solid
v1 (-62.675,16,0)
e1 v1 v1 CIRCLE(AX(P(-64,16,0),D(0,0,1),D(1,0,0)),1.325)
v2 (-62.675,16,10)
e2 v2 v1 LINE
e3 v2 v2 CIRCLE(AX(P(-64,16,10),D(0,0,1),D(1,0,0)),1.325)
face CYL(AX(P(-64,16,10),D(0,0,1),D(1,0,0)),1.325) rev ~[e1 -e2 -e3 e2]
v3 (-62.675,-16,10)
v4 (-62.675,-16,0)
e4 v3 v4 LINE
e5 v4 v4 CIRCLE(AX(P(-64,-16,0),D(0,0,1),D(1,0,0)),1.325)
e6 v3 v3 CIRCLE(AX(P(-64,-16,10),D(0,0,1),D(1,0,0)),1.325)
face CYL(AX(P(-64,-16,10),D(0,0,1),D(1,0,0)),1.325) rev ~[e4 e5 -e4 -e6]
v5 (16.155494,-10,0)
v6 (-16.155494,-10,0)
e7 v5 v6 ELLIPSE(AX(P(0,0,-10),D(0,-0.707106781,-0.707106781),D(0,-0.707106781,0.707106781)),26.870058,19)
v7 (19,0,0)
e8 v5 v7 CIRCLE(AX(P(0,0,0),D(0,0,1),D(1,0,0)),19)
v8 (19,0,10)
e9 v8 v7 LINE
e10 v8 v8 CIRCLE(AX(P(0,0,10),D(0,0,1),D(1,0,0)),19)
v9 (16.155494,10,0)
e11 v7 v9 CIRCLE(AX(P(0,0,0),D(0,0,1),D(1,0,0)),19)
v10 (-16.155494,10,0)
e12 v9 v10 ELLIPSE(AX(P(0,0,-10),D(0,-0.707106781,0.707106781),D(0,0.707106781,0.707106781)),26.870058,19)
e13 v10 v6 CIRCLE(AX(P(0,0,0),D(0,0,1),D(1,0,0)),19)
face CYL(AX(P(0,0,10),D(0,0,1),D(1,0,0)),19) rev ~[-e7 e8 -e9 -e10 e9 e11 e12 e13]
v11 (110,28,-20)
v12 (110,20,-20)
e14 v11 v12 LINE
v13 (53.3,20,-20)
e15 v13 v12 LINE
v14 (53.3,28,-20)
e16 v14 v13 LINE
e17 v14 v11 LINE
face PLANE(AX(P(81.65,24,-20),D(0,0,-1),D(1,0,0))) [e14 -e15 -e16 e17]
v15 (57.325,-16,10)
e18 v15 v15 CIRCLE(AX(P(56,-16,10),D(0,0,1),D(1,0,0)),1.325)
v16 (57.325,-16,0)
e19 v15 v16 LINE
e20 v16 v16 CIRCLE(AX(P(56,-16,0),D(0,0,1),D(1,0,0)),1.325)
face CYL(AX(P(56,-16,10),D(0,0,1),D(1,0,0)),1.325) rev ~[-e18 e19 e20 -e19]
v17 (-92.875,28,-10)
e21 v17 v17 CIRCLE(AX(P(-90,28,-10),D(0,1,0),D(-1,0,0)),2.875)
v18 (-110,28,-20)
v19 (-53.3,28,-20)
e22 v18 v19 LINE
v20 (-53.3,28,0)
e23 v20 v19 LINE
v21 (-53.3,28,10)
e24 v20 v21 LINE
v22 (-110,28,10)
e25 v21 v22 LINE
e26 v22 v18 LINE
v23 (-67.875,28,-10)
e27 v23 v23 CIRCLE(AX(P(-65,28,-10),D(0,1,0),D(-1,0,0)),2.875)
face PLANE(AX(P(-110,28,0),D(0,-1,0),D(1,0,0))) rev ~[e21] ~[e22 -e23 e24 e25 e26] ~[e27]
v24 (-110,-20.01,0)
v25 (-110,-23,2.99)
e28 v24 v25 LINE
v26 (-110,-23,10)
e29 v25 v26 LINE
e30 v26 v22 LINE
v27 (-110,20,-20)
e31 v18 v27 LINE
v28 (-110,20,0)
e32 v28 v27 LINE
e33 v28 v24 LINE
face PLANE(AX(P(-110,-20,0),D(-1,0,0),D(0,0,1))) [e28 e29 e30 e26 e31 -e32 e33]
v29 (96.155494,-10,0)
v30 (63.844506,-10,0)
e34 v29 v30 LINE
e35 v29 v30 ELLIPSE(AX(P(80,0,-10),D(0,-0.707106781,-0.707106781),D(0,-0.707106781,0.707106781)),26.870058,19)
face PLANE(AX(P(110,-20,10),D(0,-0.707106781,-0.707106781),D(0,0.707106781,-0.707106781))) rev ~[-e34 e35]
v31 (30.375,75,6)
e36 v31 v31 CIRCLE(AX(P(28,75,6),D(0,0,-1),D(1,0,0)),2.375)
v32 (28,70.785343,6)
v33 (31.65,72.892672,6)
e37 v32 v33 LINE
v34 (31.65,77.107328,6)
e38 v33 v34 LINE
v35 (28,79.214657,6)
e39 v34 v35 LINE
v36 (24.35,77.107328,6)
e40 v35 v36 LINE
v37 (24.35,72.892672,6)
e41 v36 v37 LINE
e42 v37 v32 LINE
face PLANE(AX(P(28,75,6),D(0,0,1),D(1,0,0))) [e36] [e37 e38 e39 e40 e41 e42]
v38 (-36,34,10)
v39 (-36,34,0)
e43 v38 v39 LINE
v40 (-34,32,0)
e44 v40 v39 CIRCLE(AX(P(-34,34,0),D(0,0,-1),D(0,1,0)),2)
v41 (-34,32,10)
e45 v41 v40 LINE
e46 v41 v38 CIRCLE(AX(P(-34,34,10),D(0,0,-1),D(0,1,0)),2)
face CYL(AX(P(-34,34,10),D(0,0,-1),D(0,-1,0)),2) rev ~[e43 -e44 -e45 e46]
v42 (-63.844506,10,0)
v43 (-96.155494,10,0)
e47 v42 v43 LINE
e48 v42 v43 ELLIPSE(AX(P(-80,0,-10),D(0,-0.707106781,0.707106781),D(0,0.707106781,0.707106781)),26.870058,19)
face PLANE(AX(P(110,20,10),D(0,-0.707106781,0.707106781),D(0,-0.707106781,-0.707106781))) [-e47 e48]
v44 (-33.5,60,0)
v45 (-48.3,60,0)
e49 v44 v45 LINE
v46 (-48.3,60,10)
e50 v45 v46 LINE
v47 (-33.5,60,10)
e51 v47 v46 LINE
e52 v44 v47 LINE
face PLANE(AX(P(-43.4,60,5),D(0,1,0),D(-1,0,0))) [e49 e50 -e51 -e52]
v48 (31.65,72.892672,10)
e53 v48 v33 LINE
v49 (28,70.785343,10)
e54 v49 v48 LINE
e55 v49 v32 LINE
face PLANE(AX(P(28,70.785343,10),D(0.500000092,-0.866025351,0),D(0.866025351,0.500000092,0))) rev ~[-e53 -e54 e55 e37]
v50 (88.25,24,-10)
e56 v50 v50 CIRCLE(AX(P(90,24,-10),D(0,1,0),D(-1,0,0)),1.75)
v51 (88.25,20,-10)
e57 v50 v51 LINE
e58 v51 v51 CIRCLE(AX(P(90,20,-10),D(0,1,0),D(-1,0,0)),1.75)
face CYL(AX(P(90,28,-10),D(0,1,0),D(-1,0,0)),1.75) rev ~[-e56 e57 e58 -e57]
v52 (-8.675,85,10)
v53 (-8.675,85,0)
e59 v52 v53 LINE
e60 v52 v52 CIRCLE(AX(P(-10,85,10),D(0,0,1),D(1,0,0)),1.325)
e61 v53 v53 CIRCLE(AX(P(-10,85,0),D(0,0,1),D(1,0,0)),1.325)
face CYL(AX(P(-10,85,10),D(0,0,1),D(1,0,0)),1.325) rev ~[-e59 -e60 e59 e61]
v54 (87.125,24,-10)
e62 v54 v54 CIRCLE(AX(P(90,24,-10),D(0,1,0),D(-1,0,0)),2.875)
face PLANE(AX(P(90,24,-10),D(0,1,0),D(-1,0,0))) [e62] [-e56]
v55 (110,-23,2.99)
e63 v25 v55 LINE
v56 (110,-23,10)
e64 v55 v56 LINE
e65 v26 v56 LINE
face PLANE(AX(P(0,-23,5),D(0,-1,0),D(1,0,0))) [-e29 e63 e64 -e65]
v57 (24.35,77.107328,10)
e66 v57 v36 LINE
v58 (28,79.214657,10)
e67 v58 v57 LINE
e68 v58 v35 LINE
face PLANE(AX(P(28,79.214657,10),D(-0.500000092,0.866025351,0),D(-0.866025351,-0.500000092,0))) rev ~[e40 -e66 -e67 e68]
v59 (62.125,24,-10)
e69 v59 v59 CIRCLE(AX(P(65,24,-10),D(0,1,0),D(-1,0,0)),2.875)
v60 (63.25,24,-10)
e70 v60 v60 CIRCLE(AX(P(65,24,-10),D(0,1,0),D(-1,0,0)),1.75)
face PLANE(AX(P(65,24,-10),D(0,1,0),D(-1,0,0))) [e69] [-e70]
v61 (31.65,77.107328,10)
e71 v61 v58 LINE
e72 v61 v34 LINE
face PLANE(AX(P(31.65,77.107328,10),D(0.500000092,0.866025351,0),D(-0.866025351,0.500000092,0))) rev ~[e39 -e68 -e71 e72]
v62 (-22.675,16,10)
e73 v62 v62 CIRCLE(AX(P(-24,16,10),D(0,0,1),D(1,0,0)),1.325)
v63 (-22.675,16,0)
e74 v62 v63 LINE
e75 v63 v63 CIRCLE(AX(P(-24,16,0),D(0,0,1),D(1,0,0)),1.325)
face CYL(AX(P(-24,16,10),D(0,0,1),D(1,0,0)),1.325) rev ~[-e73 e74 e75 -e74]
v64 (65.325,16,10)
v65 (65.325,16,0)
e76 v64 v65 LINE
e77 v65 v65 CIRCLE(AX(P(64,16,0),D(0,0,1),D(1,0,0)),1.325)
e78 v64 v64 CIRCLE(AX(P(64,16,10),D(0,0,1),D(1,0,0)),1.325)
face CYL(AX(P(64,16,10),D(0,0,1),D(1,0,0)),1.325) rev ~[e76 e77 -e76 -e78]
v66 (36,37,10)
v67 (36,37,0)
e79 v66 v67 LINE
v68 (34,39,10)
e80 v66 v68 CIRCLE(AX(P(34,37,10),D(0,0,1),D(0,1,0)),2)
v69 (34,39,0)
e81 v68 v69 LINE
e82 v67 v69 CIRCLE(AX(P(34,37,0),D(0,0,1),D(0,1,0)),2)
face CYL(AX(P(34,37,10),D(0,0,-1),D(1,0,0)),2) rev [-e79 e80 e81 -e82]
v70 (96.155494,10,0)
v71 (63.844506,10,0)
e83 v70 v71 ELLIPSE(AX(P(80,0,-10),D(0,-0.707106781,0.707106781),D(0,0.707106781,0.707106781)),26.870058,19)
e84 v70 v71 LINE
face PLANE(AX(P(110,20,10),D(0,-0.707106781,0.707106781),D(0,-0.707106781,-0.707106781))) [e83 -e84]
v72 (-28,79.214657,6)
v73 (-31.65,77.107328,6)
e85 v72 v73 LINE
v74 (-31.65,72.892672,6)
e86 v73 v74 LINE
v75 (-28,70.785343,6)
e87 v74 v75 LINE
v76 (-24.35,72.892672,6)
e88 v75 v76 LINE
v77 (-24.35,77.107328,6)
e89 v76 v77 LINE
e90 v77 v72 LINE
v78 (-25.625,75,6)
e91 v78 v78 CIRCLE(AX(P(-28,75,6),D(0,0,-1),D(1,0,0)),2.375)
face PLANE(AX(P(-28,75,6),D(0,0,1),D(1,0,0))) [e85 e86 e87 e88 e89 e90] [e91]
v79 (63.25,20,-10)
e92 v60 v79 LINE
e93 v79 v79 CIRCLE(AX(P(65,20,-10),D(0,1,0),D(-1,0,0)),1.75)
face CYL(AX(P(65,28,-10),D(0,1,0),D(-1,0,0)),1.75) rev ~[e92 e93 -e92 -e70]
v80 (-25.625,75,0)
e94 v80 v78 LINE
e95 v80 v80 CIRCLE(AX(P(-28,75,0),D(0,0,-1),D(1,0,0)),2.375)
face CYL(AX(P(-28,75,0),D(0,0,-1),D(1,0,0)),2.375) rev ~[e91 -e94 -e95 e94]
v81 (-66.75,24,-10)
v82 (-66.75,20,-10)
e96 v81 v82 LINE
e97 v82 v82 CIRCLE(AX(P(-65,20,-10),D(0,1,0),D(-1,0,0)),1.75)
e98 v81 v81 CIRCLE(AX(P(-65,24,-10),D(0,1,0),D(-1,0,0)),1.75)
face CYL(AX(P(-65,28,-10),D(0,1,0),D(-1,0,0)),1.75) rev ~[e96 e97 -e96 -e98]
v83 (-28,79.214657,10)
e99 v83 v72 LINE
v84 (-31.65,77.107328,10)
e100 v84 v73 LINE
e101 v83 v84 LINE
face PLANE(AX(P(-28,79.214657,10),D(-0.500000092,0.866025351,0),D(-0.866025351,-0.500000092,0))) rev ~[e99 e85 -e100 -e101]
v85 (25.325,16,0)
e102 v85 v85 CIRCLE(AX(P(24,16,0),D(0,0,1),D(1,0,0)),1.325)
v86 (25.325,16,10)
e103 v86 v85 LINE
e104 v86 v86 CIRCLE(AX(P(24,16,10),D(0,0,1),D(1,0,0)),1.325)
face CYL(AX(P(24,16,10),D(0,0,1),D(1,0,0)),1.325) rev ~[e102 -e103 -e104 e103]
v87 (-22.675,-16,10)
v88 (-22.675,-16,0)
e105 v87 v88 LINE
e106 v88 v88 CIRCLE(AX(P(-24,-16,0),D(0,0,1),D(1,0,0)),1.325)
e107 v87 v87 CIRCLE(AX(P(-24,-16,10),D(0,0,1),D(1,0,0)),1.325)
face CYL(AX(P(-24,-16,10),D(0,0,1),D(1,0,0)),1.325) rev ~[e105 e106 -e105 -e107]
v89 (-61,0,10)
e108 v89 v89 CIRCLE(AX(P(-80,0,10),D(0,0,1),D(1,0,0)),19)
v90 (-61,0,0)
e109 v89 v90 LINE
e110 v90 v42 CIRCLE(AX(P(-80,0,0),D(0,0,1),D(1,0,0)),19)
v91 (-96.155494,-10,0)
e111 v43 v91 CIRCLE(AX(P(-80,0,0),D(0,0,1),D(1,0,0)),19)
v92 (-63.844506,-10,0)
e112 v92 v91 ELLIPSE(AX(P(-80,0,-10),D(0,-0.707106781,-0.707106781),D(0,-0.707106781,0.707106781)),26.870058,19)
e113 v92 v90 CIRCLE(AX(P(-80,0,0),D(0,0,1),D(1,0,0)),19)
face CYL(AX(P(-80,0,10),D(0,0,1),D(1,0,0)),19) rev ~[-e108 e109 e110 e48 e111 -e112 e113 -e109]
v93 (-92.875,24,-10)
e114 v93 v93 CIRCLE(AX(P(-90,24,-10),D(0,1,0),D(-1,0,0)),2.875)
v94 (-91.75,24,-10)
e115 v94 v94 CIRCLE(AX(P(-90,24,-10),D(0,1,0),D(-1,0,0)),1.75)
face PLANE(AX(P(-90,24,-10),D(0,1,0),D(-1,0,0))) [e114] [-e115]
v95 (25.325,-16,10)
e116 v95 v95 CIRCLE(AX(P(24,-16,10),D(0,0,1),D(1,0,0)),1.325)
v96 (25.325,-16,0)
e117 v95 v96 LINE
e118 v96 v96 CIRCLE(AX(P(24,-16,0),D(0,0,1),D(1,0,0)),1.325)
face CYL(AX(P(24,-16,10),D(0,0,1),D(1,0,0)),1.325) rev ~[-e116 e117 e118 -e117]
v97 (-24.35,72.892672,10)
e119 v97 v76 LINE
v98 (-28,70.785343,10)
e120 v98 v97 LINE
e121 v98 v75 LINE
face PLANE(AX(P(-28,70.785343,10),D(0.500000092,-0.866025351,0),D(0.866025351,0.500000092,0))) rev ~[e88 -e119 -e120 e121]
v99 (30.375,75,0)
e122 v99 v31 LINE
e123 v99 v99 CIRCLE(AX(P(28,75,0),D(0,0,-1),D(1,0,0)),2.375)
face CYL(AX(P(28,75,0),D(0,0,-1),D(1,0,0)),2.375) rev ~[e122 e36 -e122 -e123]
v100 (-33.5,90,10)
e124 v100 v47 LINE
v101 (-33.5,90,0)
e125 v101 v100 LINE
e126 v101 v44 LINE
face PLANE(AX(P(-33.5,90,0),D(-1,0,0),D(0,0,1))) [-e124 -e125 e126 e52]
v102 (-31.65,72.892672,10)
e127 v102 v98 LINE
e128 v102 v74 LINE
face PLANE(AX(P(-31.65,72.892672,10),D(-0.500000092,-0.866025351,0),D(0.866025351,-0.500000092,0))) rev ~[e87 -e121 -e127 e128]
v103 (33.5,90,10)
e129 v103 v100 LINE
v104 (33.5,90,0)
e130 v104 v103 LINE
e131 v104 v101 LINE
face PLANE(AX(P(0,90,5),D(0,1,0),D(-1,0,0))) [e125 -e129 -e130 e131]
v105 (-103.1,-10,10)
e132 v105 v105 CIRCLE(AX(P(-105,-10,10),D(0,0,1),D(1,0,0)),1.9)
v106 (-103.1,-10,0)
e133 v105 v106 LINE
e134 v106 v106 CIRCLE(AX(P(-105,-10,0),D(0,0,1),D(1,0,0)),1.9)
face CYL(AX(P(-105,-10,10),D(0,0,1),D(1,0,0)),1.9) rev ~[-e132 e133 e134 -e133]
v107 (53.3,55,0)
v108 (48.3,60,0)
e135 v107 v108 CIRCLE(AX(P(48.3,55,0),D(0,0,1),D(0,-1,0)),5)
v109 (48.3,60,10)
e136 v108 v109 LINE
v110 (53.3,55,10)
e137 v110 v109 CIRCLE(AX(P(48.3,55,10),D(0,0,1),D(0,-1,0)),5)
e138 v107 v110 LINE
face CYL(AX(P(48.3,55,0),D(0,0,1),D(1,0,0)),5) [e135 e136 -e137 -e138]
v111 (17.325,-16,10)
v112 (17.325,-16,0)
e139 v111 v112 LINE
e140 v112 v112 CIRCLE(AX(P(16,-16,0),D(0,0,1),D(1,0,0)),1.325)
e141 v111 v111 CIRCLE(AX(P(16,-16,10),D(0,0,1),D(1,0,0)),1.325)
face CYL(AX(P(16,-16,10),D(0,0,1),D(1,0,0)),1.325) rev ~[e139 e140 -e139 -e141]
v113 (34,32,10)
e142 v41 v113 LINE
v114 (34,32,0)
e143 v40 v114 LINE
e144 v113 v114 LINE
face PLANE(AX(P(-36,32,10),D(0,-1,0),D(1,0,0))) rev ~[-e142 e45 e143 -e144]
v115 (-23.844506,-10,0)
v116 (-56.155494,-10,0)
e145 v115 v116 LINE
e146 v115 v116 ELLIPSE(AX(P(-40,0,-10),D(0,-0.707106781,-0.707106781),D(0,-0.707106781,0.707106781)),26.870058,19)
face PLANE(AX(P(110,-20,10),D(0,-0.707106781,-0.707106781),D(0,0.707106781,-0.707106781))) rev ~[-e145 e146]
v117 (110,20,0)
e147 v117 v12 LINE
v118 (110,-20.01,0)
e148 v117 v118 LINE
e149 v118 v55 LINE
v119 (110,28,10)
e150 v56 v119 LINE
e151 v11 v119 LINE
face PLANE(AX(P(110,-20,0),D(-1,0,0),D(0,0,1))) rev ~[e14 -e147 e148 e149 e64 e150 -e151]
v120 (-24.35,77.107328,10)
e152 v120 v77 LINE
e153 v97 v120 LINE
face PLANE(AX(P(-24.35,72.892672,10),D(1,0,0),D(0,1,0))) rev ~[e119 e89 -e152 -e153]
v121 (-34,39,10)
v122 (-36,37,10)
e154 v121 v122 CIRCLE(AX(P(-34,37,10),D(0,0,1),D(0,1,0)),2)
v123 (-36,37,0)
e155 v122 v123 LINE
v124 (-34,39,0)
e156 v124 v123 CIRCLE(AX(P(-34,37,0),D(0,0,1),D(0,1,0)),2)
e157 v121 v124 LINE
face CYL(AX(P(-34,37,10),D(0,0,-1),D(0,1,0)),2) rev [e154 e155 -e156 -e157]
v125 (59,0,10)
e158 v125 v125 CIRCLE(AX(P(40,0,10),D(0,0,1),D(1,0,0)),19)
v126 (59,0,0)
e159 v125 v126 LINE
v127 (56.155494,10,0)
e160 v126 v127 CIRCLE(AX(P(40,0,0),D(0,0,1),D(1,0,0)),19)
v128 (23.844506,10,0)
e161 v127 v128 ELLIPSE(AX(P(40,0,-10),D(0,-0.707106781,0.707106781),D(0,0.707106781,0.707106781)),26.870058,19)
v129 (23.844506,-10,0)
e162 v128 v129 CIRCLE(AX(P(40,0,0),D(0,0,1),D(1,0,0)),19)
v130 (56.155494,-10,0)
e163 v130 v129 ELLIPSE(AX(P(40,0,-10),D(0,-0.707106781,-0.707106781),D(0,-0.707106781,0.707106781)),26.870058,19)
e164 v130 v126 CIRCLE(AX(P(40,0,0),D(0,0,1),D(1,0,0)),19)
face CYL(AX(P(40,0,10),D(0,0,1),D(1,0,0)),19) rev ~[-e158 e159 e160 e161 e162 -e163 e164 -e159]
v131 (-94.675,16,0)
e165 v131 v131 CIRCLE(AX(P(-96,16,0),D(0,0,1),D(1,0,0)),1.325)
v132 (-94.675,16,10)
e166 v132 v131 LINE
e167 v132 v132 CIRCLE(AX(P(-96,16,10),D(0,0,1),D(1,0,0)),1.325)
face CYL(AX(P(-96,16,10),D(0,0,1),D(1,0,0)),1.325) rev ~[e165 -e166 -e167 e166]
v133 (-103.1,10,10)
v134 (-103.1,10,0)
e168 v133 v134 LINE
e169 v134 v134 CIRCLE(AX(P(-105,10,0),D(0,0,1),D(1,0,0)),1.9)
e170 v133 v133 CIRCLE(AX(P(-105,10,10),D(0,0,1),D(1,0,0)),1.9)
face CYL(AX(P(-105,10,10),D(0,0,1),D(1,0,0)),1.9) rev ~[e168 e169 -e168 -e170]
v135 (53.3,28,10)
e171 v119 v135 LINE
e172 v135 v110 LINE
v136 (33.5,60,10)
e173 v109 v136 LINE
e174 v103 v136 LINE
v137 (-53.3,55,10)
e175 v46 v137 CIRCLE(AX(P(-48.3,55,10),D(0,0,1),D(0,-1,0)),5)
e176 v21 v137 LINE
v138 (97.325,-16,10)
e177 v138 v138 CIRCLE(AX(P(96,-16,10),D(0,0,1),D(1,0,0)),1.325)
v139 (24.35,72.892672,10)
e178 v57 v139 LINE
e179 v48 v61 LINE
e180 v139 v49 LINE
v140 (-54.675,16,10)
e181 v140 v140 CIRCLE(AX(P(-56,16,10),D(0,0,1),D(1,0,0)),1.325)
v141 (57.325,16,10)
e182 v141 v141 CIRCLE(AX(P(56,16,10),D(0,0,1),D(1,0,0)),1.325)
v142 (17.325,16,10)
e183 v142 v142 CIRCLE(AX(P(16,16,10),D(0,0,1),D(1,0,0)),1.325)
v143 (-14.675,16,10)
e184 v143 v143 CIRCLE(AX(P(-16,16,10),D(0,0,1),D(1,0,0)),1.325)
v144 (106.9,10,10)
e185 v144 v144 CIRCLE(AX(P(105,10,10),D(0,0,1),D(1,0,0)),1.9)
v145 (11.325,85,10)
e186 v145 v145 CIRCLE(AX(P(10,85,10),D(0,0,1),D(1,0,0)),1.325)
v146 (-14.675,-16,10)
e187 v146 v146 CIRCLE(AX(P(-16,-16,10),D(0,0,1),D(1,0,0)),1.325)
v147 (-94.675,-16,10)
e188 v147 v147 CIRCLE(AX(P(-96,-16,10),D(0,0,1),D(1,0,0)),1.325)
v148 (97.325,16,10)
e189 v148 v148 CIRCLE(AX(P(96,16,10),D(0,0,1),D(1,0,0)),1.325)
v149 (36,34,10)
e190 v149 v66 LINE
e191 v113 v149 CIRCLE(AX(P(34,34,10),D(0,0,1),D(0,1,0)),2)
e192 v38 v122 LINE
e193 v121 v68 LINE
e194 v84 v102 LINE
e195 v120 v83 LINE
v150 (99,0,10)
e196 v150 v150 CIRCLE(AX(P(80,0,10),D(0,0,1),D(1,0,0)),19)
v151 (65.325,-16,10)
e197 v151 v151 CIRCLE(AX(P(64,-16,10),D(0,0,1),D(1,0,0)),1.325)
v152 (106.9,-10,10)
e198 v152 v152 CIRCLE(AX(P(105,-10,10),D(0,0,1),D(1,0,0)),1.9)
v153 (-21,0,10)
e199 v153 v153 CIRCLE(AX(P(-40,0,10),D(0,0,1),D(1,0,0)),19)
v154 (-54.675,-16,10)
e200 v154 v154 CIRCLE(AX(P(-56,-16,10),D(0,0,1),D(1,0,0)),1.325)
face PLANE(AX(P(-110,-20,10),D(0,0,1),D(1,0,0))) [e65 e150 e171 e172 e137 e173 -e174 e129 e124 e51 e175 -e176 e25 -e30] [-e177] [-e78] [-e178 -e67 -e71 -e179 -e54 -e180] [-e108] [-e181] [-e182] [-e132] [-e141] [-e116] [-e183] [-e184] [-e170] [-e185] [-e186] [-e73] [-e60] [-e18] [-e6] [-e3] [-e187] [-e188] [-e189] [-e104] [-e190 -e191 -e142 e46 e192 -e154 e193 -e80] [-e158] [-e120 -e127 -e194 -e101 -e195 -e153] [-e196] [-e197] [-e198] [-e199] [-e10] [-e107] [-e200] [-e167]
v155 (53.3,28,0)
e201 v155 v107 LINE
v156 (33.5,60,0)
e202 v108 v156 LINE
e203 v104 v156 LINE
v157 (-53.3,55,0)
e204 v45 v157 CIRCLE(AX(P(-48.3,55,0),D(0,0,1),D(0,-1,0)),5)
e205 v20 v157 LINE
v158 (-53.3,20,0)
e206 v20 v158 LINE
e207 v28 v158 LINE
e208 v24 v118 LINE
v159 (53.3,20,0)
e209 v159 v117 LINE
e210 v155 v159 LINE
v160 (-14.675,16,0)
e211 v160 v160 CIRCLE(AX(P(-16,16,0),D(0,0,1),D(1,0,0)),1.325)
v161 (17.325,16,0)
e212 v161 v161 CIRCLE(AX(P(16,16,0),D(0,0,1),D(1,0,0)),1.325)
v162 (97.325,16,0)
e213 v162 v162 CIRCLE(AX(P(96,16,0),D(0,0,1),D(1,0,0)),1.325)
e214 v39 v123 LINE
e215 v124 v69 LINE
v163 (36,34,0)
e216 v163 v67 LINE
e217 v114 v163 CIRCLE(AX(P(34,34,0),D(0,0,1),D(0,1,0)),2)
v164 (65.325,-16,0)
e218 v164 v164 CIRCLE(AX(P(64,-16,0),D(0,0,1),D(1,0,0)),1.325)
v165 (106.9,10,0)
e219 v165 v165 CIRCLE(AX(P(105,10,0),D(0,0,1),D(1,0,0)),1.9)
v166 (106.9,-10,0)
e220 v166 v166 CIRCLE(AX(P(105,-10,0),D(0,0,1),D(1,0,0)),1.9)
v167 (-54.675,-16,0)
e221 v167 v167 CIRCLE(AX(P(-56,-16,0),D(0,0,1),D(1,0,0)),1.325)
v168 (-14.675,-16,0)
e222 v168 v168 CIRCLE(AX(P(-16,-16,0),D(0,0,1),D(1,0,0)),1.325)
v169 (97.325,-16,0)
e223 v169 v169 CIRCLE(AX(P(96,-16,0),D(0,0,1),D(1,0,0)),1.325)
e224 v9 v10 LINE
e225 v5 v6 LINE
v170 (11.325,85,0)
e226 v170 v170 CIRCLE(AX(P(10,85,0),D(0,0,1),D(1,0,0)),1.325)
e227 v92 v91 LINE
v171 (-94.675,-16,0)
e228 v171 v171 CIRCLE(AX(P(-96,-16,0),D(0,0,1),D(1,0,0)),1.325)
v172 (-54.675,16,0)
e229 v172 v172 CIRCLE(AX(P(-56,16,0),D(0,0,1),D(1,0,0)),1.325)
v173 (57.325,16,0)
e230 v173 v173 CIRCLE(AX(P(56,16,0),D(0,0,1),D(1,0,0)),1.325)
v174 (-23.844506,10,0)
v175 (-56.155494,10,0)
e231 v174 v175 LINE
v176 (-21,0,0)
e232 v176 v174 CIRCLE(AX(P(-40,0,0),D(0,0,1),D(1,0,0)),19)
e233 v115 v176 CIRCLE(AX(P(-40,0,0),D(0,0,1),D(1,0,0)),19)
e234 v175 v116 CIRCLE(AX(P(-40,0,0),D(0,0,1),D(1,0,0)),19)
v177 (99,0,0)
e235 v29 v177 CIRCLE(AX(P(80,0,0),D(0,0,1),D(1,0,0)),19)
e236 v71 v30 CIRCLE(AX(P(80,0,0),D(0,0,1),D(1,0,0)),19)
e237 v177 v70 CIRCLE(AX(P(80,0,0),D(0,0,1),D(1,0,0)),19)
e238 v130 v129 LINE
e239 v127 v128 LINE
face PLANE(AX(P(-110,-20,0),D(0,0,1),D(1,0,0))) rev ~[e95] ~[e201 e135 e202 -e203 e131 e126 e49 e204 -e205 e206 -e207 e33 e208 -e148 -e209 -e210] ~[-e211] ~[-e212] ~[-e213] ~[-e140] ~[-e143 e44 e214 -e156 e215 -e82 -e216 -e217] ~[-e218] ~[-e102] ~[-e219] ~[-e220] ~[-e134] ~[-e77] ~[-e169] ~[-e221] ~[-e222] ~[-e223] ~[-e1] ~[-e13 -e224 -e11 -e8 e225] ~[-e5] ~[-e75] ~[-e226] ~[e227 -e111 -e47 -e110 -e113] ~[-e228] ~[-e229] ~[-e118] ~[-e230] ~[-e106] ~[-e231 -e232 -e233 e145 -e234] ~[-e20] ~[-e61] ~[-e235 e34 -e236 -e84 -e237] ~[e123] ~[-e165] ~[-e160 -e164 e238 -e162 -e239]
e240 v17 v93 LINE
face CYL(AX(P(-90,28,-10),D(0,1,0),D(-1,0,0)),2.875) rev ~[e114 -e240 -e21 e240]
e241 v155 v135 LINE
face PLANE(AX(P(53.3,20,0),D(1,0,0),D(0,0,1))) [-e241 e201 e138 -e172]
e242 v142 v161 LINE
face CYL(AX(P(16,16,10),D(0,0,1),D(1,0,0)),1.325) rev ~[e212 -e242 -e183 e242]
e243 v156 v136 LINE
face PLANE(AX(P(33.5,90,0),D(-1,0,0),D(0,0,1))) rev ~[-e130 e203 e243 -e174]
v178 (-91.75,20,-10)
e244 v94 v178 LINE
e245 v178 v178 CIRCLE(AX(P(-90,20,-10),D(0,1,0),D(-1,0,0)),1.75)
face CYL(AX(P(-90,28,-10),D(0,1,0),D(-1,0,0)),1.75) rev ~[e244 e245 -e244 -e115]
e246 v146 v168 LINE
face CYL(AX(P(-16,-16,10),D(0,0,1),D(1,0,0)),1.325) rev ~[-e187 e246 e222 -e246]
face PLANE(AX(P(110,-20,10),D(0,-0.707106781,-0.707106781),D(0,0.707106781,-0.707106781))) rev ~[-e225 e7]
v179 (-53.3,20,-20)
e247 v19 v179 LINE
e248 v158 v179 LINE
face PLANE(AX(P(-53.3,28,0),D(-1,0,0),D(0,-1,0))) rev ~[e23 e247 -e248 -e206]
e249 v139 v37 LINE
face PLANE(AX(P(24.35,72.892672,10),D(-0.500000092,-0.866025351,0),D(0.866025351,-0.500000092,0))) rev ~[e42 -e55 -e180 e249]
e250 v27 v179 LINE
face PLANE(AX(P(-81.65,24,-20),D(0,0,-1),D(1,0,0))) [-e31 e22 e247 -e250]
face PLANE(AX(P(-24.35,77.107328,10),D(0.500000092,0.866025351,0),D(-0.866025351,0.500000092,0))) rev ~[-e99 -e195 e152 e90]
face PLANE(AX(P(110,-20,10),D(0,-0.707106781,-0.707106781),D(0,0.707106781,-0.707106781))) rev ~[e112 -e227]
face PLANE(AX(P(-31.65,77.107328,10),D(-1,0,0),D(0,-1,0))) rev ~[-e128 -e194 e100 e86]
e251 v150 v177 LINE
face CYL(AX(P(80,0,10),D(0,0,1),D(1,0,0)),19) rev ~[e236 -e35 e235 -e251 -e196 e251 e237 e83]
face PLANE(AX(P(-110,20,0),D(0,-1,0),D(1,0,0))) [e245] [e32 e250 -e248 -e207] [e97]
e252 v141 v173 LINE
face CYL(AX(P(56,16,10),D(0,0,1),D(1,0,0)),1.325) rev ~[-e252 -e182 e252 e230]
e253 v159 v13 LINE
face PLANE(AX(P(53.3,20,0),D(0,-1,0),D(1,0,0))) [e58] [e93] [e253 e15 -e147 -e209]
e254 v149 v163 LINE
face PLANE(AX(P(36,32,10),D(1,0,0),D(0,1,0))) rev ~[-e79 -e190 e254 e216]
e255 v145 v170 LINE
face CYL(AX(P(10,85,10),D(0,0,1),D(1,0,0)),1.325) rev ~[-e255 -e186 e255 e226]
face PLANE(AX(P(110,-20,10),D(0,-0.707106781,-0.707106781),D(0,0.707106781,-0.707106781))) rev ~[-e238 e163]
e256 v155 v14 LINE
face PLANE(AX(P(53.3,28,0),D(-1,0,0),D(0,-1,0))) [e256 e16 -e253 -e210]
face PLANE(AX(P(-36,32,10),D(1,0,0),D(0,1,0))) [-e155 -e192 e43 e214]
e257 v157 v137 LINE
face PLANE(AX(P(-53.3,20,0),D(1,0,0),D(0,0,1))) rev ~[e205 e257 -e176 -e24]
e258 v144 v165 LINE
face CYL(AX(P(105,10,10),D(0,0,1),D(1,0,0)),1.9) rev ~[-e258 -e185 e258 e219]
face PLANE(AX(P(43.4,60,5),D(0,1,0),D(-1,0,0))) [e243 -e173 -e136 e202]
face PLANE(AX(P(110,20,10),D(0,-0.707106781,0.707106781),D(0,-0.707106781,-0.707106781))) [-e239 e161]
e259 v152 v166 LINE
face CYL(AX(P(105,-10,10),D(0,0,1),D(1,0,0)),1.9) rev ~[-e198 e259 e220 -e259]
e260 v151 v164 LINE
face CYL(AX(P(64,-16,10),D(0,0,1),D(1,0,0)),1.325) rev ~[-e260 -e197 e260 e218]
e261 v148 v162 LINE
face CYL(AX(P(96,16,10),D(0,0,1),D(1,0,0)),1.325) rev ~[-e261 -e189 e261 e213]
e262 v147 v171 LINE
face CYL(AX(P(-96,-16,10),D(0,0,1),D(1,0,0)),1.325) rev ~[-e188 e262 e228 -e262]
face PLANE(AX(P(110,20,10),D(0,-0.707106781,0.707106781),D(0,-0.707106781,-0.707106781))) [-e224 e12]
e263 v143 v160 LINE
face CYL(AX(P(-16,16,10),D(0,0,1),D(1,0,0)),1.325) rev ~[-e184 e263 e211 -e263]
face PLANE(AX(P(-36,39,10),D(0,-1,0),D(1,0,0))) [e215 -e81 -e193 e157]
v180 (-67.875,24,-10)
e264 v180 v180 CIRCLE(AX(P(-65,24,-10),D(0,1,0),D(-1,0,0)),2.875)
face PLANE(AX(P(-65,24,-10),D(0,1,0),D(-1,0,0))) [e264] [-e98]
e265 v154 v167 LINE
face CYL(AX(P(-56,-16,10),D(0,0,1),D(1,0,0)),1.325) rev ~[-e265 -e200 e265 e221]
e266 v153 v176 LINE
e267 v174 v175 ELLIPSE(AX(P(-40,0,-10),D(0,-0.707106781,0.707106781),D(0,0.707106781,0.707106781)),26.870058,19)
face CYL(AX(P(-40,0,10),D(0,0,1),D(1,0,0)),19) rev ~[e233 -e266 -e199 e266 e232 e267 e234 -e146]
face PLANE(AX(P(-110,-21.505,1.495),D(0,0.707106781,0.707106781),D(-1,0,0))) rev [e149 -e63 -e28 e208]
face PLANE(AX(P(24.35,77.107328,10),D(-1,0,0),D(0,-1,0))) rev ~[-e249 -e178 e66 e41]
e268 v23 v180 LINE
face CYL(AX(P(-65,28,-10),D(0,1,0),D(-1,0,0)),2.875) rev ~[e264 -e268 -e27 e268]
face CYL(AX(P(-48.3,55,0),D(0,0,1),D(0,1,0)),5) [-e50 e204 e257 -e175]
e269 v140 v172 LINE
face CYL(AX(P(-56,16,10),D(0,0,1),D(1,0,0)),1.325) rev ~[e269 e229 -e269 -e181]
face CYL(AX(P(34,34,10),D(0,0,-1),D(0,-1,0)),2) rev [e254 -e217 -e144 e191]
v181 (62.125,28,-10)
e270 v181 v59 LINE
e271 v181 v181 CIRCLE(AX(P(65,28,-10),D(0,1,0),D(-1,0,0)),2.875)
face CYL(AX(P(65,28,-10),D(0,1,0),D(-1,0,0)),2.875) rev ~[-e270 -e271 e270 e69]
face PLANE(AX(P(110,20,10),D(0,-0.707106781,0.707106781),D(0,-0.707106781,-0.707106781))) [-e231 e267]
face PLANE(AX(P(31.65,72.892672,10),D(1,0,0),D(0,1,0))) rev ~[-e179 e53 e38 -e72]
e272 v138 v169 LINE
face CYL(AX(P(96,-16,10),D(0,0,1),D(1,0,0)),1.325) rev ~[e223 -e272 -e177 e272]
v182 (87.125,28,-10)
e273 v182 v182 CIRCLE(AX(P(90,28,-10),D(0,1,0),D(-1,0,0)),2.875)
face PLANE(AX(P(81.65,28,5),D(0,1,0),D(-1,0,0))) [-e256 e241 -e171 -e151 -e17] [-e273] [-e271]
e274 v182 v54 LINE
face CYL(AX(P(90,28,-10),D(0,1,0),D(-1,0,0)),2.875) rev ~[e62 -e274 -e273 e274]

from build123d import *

# Parameters (mm, degrees)
SKETCH_W        = 220
SKETCH_H        = 40
PAD_DEPTH       = 10
SKETCH001_R     = 19
POCKET_DEPTH    = 10
PAD001_DEPTH    = 220
PAD002_DEPTH    = 220
SKETCH004_R     = 1.325
POCKET001_DEPTH = 10
SKETCH005_R     = 1.9
POCKET002_DEPTH = 10
SKETCH006_W     = 106.6
SKETCH006_H     = 10
PAD003_DEPTH    = 70
SKETCH007_W     = 19.8
SKETCH007_H     = 10
POCKET003_DEPTH = 30
SKETCH008_W     = 56.7
SKETCH008_H     = 10
PAD004_DEPTH    = 8
SKETCH009_W     = 56.7
SKETCH009_H     = 8
PAD005_DEPTH    = 20
SKETCH010_R     = 2.375
POCKET004_DEPTH = 10
POCKET005_DEPTH = 4
FILLET_R        = 5
SKETCH012_R     = 1.75
POCKET006_DEPTH = 8
SKETCH013_R     = 2.875
POCKET007_DEPTH = 4
SKETCH014_R     = 1.325
POCKET008_DEPTH = 10
SKETCH015_W     = 72
SKETCH015_H     = 7
POCKET009_DEPTH = 10
FILLET001_R     = 2
SKETCH016_W     = 220
SKETCH016_H     = 10
PAD006_DEPTH    = 3
CHAMFER_SIZE    = 2.99


with BuildPart() as part:
    # Sketch → Pad (new body)
    with BuildSketch(Plane.XY):
        Rectangle(SKETCH_W, SKETCH_H)
    extrude(amount=PAD_DEPTH)

    # Sketch001 (on Face6 of Pad) → Pocket (cut)
    with BuildSketch(Plane.XY.offset(10)):
        with Locations((-80, 0)):
            Circle(SKETCH001_R)
        with Locations((-40, 0)):
            Circle(SKETCH001_R)
        Circle(SKETCH001_R)
        with Locations((40, 0)):
            Circle(SKETCH001_R)
        with Locations((80, 0)):
            Circle(SKETCH001_R)
    extrude(amount=-POCKET_DEPTH, mode=Mode.SUBTRACT)

    # Sketch002 (on Face3 of Pocket) → Pad001 (join)
    with BuildSketch(Plane.YZ.offset(110)):
        Polygon((-10, 0), (-20, 0), (-20, 10), align=None)
    extrude(amount=-PAD001_DEPTH)

    # Sketch003 (on Face3 of Pad001) → Pad002 (join)
    with BuildSketch(Plane.YZ.offset(110)):
        Polygon((20, 10), (10, 0), (20, 0), align=None)
    extrude(amount=-PAD002_DEPTH)

    # Sketch004 (on Face5 of Pad002) → Pocket001 (cut)
    with BuildSketch(Plane.XY.offset(10)):
        with Locations((-96, 16)):
            Circle(SKETCH004_R)
        with Locations((-96, -16)):
            Circle(SKETCH004_R)
        with Locations((-64, -16)):
            Circle(SKETCH004_R)
        with Locations((-64, 16)):
            Circle(SKETCH004_R)
        with Locations((-56, 16)):
            Circle(SKETCH004_R)
        with Locations((-56, -16)):
            Circle(SKETCH004_R)
        with Locations((-24, -16)):
            Circle(SKETCH004_R)
        with Locations((-24, 16)):
            Circle(SKETCH004_R)
        with Locations((-16, 16)):
            Circle(SKETCH004_R)
        with Locations((-16, -16)):
            Circle(SKETCH004_R)
        with Locations((16, -16)):
            Circle(SKETCH004_R)
        with Locations((16, 16)):
            Circle(SKETCH004_R)
        with Locations((24, 16)):
            Circle(SKETCH004_R)
        with Locations((24, -16)):
            Circle(SKETCH004_R)
        with Locations((56, -16)):
            Circle(SKETCH004_R)
        with Locations((56, 16)):
            Circle(SKETCH004_R)
        with Locations((64, 16)):
            Circle(SKETCH004_R)
        with Locations((64, -16)):
            Circle(SKETCH004_R)
        with Locations((96, -16)):
            Circle(SKETCH004_R)
        with Locations((96, 16)):
            Circle(SKETCH004_R)
    extrude(amount=-POCKET001_DEPTH, mode=Mode.SUBTRACT)

    # Sketch005 (on Face5 of Pocket001) → Pocket002 (cut)
    with BuildSketch(Plane.XY.offset(10)):
        with Locations((-105, 10)):
            Circle(SKETCH005_R)
        with Locations((-105, -10)):
            Circle(SKETCH005_R)
        with Locations((105, 10)):
            Circle(SKETCH005_R)
        with Locations((105, -10)):
            Circle(SKETCH005_R)
    extrude(amount=-POCKET002_DEPTH, mode=Mode.SUBTRACT)

    # Sketch006 (on Face1 of Pocket002) → Pad003 (join)
    with BuildSketch(Plane(origin=(0, 20, 0), x_dir=(-1, 0, 0), z_dir=(0, 1, 0))):
        with Locations((0, 5)):
            Rectangle(SKETCH006_W, SKETCH006_H)
    extrude(amount=PAD003_DEPTH)

    # Sketch007 → Pocket003 (cut)
    with BuildSketch(Plane(origin=(0, 90, 0), x_dir=(-1, 0, 0), z_dir=(0, 1, 0))):
        with Locations((-43.4, 5)):
            Rectangle(SKETCH007_W, SKETCH007_H)
        with Locations((43.4, 5)):
            Rectangle(SKETCH007_W, SKETCH007_H)
    extrude(amount=-POCKET003_DEPTH, mode=Mode.SUBTRACT)

    # Sketch008 (on Face1 of Pocket003) → Pad004 (join)
    with BuildSketch(Plane(origin=(0, 20, 0), x_dir=(-1, 0, 0), z_dir=(0, 1, 0))):
        with Locations((-81.65, 5)):
            Rectangle(SKETCH008_W, SKETCH008_H)
        with Locations((81.65, 5)):
            Rectangle(SKETCH008_W, SKETCH008_H)
    extrude(amount=PAD004_DEPTH)

    # Sketch009 (on Face14 of Pad004) → Pad005 (join)
    with BuildSketch(Plane(origin=(0, 0, 0), x_dir=(1, 0, 0), z_dir=(0, 0, -1))):
        with Locations((-81.65, -24)):
            Rectangle(SKETCH009_W, SKETCH009_H)
        with Locations((81.65, -24)):
            Rectangle(SKETCH009_W, SKETCH009_H)
    extrude(amount=PAD005_DEPTH)

    # Sketch010 (on Face15 of Pad005) → Pocket004 (cut)
    with BuildSketch(Plane(origin=(0, 0, 0), x_dir=(1, 0, 0), z_dir=(0, 0, -1))):
        with Locations((-28, -75)):
            Circle(SKETCH010_R)
        with Locations((28, -75)):
            Circle(SKETCH010_R)
    extrude(amount=-POCKET004_DEPTH, mode=Mode.SUBTRACT)

    # Sketch011 (on Face87 of Pocket004) → Pocket005 (cut)
    with BuildSketch(Plane.XY.offset(10)):
        Polygon((-24.35, 72.892672), (-24.35, 77.107328), (-28, 79.214657), (-31.65, 77.107328), (-31.65, 72.892672), (-28, 70.785343), align=None)
        Polygon((31.65, 77.107328), (28, 79.214657), (24.35, 77.107328), (24.35, 72.892672), (28, 70.785343), (31.65, 72.892672), align=None)
    extrude(amount=-POCKET005_DEPTH, mode=Mode.SUBTRACT)

    # Fillet
    fillet_edges = [part.edges().sort_by_distance(p)[0] for p in [
        (53.3, 60, 5),
        (-53.3, 60, 5),
    ]]
    fillet(fillet_edges, radius=FILLET_R)

    # Sketch012 (on Face19 of Fillet) → Pocket006 (cut)
    with BuildSketch(Plane(origin=(0, 28, 0), x_dir=(-1, 0, 0), z_dir=(0, 1, 0))):
        with Locations((-90, -10)):
            Circle(SKETCH012_R)
        with Locations((-65, -10)):
            Circle(SKETCH012_R)
        with Locations((65, -10)):
            Circle(SKETCH012_R)
        with Locations((90, -10)):
            Circle(SKETCH012_R)
    extrude(amount=-POCKET006_DEPTH, mode=Mode.SUBTRACT)

    # Sketch013 (on Face19 of Pocket006) → Pocket007 (cut)
    with BuildSketch(Plane(origin=(0, 28, 0), x_dir=(-1, 0, 0), z_dir=(0, 1, 0))):
        with Locations((-90, -10)):
            Circle(SKETCH013_R)
        with Locations((-65, -10)):
            Circle(SKETCH013_R)
        with Locations((65, -10)):
            Circle(SKETCH013_R)
        with Locations((90, -10)):
            Circle(SKETCH013_R)
    extrude(amount=-POCKET007_DEPTH, mode=Mode.SUBTRACT)

    # Sketch014 (on Face17 of Pocket007) → Pocket008 (cut)
    with BuildSketch(Plane.XY.offset(10)):
        with Locations((-10, 85)):
            Circle(SKETCH014_R)
        with Locations((10, 85)):
            Circle(SKETCH014_R)
    extrude(amount=-POCKET008_DEPTH, mode=Mode.SUBTRACT)

    # Sketch015 (on Face19 of Pocket008) → Pocket009 (cut)
    with BuildSketch(Plane.XY.offset(10)):
        with Locations((0, 35.5)):
            Rectangle(SKETCH015_W, SKETCH015_H)
    extrude(amount=-POCKET009_DEPTH, mode=Mode.SUBTRACT)

    # Fillet001
    fillet001_edges = [part.edges().sort_by_distance(p)[0] for p in [
        (36, 39, 5),
        (-36, 39, 5),
        (-36, 32, 5),
        (36, 32, 5),
    ]]
    fillet(fillet001_edges, radius=FILLET001_R)

    # Sketch016 (on Face104 of Fillet001) → Pad006 (join)
    with BuildSketch(Plane.XZ.offset(20)):
        with Locations((0, 5)):
            Rectangle(SKETCH016_W, SKETCH016_H)
    extrude(amount=PAD006_DEPTH)

    # Chamfer
    chamfer_edges = [part.edges().sort_by_distance(p)[0] for p in [
        (0, -23, 0),
    ]]
    chamfer(chamfer_edges, length=CHAMFER_SIZE)


solid = part.part
